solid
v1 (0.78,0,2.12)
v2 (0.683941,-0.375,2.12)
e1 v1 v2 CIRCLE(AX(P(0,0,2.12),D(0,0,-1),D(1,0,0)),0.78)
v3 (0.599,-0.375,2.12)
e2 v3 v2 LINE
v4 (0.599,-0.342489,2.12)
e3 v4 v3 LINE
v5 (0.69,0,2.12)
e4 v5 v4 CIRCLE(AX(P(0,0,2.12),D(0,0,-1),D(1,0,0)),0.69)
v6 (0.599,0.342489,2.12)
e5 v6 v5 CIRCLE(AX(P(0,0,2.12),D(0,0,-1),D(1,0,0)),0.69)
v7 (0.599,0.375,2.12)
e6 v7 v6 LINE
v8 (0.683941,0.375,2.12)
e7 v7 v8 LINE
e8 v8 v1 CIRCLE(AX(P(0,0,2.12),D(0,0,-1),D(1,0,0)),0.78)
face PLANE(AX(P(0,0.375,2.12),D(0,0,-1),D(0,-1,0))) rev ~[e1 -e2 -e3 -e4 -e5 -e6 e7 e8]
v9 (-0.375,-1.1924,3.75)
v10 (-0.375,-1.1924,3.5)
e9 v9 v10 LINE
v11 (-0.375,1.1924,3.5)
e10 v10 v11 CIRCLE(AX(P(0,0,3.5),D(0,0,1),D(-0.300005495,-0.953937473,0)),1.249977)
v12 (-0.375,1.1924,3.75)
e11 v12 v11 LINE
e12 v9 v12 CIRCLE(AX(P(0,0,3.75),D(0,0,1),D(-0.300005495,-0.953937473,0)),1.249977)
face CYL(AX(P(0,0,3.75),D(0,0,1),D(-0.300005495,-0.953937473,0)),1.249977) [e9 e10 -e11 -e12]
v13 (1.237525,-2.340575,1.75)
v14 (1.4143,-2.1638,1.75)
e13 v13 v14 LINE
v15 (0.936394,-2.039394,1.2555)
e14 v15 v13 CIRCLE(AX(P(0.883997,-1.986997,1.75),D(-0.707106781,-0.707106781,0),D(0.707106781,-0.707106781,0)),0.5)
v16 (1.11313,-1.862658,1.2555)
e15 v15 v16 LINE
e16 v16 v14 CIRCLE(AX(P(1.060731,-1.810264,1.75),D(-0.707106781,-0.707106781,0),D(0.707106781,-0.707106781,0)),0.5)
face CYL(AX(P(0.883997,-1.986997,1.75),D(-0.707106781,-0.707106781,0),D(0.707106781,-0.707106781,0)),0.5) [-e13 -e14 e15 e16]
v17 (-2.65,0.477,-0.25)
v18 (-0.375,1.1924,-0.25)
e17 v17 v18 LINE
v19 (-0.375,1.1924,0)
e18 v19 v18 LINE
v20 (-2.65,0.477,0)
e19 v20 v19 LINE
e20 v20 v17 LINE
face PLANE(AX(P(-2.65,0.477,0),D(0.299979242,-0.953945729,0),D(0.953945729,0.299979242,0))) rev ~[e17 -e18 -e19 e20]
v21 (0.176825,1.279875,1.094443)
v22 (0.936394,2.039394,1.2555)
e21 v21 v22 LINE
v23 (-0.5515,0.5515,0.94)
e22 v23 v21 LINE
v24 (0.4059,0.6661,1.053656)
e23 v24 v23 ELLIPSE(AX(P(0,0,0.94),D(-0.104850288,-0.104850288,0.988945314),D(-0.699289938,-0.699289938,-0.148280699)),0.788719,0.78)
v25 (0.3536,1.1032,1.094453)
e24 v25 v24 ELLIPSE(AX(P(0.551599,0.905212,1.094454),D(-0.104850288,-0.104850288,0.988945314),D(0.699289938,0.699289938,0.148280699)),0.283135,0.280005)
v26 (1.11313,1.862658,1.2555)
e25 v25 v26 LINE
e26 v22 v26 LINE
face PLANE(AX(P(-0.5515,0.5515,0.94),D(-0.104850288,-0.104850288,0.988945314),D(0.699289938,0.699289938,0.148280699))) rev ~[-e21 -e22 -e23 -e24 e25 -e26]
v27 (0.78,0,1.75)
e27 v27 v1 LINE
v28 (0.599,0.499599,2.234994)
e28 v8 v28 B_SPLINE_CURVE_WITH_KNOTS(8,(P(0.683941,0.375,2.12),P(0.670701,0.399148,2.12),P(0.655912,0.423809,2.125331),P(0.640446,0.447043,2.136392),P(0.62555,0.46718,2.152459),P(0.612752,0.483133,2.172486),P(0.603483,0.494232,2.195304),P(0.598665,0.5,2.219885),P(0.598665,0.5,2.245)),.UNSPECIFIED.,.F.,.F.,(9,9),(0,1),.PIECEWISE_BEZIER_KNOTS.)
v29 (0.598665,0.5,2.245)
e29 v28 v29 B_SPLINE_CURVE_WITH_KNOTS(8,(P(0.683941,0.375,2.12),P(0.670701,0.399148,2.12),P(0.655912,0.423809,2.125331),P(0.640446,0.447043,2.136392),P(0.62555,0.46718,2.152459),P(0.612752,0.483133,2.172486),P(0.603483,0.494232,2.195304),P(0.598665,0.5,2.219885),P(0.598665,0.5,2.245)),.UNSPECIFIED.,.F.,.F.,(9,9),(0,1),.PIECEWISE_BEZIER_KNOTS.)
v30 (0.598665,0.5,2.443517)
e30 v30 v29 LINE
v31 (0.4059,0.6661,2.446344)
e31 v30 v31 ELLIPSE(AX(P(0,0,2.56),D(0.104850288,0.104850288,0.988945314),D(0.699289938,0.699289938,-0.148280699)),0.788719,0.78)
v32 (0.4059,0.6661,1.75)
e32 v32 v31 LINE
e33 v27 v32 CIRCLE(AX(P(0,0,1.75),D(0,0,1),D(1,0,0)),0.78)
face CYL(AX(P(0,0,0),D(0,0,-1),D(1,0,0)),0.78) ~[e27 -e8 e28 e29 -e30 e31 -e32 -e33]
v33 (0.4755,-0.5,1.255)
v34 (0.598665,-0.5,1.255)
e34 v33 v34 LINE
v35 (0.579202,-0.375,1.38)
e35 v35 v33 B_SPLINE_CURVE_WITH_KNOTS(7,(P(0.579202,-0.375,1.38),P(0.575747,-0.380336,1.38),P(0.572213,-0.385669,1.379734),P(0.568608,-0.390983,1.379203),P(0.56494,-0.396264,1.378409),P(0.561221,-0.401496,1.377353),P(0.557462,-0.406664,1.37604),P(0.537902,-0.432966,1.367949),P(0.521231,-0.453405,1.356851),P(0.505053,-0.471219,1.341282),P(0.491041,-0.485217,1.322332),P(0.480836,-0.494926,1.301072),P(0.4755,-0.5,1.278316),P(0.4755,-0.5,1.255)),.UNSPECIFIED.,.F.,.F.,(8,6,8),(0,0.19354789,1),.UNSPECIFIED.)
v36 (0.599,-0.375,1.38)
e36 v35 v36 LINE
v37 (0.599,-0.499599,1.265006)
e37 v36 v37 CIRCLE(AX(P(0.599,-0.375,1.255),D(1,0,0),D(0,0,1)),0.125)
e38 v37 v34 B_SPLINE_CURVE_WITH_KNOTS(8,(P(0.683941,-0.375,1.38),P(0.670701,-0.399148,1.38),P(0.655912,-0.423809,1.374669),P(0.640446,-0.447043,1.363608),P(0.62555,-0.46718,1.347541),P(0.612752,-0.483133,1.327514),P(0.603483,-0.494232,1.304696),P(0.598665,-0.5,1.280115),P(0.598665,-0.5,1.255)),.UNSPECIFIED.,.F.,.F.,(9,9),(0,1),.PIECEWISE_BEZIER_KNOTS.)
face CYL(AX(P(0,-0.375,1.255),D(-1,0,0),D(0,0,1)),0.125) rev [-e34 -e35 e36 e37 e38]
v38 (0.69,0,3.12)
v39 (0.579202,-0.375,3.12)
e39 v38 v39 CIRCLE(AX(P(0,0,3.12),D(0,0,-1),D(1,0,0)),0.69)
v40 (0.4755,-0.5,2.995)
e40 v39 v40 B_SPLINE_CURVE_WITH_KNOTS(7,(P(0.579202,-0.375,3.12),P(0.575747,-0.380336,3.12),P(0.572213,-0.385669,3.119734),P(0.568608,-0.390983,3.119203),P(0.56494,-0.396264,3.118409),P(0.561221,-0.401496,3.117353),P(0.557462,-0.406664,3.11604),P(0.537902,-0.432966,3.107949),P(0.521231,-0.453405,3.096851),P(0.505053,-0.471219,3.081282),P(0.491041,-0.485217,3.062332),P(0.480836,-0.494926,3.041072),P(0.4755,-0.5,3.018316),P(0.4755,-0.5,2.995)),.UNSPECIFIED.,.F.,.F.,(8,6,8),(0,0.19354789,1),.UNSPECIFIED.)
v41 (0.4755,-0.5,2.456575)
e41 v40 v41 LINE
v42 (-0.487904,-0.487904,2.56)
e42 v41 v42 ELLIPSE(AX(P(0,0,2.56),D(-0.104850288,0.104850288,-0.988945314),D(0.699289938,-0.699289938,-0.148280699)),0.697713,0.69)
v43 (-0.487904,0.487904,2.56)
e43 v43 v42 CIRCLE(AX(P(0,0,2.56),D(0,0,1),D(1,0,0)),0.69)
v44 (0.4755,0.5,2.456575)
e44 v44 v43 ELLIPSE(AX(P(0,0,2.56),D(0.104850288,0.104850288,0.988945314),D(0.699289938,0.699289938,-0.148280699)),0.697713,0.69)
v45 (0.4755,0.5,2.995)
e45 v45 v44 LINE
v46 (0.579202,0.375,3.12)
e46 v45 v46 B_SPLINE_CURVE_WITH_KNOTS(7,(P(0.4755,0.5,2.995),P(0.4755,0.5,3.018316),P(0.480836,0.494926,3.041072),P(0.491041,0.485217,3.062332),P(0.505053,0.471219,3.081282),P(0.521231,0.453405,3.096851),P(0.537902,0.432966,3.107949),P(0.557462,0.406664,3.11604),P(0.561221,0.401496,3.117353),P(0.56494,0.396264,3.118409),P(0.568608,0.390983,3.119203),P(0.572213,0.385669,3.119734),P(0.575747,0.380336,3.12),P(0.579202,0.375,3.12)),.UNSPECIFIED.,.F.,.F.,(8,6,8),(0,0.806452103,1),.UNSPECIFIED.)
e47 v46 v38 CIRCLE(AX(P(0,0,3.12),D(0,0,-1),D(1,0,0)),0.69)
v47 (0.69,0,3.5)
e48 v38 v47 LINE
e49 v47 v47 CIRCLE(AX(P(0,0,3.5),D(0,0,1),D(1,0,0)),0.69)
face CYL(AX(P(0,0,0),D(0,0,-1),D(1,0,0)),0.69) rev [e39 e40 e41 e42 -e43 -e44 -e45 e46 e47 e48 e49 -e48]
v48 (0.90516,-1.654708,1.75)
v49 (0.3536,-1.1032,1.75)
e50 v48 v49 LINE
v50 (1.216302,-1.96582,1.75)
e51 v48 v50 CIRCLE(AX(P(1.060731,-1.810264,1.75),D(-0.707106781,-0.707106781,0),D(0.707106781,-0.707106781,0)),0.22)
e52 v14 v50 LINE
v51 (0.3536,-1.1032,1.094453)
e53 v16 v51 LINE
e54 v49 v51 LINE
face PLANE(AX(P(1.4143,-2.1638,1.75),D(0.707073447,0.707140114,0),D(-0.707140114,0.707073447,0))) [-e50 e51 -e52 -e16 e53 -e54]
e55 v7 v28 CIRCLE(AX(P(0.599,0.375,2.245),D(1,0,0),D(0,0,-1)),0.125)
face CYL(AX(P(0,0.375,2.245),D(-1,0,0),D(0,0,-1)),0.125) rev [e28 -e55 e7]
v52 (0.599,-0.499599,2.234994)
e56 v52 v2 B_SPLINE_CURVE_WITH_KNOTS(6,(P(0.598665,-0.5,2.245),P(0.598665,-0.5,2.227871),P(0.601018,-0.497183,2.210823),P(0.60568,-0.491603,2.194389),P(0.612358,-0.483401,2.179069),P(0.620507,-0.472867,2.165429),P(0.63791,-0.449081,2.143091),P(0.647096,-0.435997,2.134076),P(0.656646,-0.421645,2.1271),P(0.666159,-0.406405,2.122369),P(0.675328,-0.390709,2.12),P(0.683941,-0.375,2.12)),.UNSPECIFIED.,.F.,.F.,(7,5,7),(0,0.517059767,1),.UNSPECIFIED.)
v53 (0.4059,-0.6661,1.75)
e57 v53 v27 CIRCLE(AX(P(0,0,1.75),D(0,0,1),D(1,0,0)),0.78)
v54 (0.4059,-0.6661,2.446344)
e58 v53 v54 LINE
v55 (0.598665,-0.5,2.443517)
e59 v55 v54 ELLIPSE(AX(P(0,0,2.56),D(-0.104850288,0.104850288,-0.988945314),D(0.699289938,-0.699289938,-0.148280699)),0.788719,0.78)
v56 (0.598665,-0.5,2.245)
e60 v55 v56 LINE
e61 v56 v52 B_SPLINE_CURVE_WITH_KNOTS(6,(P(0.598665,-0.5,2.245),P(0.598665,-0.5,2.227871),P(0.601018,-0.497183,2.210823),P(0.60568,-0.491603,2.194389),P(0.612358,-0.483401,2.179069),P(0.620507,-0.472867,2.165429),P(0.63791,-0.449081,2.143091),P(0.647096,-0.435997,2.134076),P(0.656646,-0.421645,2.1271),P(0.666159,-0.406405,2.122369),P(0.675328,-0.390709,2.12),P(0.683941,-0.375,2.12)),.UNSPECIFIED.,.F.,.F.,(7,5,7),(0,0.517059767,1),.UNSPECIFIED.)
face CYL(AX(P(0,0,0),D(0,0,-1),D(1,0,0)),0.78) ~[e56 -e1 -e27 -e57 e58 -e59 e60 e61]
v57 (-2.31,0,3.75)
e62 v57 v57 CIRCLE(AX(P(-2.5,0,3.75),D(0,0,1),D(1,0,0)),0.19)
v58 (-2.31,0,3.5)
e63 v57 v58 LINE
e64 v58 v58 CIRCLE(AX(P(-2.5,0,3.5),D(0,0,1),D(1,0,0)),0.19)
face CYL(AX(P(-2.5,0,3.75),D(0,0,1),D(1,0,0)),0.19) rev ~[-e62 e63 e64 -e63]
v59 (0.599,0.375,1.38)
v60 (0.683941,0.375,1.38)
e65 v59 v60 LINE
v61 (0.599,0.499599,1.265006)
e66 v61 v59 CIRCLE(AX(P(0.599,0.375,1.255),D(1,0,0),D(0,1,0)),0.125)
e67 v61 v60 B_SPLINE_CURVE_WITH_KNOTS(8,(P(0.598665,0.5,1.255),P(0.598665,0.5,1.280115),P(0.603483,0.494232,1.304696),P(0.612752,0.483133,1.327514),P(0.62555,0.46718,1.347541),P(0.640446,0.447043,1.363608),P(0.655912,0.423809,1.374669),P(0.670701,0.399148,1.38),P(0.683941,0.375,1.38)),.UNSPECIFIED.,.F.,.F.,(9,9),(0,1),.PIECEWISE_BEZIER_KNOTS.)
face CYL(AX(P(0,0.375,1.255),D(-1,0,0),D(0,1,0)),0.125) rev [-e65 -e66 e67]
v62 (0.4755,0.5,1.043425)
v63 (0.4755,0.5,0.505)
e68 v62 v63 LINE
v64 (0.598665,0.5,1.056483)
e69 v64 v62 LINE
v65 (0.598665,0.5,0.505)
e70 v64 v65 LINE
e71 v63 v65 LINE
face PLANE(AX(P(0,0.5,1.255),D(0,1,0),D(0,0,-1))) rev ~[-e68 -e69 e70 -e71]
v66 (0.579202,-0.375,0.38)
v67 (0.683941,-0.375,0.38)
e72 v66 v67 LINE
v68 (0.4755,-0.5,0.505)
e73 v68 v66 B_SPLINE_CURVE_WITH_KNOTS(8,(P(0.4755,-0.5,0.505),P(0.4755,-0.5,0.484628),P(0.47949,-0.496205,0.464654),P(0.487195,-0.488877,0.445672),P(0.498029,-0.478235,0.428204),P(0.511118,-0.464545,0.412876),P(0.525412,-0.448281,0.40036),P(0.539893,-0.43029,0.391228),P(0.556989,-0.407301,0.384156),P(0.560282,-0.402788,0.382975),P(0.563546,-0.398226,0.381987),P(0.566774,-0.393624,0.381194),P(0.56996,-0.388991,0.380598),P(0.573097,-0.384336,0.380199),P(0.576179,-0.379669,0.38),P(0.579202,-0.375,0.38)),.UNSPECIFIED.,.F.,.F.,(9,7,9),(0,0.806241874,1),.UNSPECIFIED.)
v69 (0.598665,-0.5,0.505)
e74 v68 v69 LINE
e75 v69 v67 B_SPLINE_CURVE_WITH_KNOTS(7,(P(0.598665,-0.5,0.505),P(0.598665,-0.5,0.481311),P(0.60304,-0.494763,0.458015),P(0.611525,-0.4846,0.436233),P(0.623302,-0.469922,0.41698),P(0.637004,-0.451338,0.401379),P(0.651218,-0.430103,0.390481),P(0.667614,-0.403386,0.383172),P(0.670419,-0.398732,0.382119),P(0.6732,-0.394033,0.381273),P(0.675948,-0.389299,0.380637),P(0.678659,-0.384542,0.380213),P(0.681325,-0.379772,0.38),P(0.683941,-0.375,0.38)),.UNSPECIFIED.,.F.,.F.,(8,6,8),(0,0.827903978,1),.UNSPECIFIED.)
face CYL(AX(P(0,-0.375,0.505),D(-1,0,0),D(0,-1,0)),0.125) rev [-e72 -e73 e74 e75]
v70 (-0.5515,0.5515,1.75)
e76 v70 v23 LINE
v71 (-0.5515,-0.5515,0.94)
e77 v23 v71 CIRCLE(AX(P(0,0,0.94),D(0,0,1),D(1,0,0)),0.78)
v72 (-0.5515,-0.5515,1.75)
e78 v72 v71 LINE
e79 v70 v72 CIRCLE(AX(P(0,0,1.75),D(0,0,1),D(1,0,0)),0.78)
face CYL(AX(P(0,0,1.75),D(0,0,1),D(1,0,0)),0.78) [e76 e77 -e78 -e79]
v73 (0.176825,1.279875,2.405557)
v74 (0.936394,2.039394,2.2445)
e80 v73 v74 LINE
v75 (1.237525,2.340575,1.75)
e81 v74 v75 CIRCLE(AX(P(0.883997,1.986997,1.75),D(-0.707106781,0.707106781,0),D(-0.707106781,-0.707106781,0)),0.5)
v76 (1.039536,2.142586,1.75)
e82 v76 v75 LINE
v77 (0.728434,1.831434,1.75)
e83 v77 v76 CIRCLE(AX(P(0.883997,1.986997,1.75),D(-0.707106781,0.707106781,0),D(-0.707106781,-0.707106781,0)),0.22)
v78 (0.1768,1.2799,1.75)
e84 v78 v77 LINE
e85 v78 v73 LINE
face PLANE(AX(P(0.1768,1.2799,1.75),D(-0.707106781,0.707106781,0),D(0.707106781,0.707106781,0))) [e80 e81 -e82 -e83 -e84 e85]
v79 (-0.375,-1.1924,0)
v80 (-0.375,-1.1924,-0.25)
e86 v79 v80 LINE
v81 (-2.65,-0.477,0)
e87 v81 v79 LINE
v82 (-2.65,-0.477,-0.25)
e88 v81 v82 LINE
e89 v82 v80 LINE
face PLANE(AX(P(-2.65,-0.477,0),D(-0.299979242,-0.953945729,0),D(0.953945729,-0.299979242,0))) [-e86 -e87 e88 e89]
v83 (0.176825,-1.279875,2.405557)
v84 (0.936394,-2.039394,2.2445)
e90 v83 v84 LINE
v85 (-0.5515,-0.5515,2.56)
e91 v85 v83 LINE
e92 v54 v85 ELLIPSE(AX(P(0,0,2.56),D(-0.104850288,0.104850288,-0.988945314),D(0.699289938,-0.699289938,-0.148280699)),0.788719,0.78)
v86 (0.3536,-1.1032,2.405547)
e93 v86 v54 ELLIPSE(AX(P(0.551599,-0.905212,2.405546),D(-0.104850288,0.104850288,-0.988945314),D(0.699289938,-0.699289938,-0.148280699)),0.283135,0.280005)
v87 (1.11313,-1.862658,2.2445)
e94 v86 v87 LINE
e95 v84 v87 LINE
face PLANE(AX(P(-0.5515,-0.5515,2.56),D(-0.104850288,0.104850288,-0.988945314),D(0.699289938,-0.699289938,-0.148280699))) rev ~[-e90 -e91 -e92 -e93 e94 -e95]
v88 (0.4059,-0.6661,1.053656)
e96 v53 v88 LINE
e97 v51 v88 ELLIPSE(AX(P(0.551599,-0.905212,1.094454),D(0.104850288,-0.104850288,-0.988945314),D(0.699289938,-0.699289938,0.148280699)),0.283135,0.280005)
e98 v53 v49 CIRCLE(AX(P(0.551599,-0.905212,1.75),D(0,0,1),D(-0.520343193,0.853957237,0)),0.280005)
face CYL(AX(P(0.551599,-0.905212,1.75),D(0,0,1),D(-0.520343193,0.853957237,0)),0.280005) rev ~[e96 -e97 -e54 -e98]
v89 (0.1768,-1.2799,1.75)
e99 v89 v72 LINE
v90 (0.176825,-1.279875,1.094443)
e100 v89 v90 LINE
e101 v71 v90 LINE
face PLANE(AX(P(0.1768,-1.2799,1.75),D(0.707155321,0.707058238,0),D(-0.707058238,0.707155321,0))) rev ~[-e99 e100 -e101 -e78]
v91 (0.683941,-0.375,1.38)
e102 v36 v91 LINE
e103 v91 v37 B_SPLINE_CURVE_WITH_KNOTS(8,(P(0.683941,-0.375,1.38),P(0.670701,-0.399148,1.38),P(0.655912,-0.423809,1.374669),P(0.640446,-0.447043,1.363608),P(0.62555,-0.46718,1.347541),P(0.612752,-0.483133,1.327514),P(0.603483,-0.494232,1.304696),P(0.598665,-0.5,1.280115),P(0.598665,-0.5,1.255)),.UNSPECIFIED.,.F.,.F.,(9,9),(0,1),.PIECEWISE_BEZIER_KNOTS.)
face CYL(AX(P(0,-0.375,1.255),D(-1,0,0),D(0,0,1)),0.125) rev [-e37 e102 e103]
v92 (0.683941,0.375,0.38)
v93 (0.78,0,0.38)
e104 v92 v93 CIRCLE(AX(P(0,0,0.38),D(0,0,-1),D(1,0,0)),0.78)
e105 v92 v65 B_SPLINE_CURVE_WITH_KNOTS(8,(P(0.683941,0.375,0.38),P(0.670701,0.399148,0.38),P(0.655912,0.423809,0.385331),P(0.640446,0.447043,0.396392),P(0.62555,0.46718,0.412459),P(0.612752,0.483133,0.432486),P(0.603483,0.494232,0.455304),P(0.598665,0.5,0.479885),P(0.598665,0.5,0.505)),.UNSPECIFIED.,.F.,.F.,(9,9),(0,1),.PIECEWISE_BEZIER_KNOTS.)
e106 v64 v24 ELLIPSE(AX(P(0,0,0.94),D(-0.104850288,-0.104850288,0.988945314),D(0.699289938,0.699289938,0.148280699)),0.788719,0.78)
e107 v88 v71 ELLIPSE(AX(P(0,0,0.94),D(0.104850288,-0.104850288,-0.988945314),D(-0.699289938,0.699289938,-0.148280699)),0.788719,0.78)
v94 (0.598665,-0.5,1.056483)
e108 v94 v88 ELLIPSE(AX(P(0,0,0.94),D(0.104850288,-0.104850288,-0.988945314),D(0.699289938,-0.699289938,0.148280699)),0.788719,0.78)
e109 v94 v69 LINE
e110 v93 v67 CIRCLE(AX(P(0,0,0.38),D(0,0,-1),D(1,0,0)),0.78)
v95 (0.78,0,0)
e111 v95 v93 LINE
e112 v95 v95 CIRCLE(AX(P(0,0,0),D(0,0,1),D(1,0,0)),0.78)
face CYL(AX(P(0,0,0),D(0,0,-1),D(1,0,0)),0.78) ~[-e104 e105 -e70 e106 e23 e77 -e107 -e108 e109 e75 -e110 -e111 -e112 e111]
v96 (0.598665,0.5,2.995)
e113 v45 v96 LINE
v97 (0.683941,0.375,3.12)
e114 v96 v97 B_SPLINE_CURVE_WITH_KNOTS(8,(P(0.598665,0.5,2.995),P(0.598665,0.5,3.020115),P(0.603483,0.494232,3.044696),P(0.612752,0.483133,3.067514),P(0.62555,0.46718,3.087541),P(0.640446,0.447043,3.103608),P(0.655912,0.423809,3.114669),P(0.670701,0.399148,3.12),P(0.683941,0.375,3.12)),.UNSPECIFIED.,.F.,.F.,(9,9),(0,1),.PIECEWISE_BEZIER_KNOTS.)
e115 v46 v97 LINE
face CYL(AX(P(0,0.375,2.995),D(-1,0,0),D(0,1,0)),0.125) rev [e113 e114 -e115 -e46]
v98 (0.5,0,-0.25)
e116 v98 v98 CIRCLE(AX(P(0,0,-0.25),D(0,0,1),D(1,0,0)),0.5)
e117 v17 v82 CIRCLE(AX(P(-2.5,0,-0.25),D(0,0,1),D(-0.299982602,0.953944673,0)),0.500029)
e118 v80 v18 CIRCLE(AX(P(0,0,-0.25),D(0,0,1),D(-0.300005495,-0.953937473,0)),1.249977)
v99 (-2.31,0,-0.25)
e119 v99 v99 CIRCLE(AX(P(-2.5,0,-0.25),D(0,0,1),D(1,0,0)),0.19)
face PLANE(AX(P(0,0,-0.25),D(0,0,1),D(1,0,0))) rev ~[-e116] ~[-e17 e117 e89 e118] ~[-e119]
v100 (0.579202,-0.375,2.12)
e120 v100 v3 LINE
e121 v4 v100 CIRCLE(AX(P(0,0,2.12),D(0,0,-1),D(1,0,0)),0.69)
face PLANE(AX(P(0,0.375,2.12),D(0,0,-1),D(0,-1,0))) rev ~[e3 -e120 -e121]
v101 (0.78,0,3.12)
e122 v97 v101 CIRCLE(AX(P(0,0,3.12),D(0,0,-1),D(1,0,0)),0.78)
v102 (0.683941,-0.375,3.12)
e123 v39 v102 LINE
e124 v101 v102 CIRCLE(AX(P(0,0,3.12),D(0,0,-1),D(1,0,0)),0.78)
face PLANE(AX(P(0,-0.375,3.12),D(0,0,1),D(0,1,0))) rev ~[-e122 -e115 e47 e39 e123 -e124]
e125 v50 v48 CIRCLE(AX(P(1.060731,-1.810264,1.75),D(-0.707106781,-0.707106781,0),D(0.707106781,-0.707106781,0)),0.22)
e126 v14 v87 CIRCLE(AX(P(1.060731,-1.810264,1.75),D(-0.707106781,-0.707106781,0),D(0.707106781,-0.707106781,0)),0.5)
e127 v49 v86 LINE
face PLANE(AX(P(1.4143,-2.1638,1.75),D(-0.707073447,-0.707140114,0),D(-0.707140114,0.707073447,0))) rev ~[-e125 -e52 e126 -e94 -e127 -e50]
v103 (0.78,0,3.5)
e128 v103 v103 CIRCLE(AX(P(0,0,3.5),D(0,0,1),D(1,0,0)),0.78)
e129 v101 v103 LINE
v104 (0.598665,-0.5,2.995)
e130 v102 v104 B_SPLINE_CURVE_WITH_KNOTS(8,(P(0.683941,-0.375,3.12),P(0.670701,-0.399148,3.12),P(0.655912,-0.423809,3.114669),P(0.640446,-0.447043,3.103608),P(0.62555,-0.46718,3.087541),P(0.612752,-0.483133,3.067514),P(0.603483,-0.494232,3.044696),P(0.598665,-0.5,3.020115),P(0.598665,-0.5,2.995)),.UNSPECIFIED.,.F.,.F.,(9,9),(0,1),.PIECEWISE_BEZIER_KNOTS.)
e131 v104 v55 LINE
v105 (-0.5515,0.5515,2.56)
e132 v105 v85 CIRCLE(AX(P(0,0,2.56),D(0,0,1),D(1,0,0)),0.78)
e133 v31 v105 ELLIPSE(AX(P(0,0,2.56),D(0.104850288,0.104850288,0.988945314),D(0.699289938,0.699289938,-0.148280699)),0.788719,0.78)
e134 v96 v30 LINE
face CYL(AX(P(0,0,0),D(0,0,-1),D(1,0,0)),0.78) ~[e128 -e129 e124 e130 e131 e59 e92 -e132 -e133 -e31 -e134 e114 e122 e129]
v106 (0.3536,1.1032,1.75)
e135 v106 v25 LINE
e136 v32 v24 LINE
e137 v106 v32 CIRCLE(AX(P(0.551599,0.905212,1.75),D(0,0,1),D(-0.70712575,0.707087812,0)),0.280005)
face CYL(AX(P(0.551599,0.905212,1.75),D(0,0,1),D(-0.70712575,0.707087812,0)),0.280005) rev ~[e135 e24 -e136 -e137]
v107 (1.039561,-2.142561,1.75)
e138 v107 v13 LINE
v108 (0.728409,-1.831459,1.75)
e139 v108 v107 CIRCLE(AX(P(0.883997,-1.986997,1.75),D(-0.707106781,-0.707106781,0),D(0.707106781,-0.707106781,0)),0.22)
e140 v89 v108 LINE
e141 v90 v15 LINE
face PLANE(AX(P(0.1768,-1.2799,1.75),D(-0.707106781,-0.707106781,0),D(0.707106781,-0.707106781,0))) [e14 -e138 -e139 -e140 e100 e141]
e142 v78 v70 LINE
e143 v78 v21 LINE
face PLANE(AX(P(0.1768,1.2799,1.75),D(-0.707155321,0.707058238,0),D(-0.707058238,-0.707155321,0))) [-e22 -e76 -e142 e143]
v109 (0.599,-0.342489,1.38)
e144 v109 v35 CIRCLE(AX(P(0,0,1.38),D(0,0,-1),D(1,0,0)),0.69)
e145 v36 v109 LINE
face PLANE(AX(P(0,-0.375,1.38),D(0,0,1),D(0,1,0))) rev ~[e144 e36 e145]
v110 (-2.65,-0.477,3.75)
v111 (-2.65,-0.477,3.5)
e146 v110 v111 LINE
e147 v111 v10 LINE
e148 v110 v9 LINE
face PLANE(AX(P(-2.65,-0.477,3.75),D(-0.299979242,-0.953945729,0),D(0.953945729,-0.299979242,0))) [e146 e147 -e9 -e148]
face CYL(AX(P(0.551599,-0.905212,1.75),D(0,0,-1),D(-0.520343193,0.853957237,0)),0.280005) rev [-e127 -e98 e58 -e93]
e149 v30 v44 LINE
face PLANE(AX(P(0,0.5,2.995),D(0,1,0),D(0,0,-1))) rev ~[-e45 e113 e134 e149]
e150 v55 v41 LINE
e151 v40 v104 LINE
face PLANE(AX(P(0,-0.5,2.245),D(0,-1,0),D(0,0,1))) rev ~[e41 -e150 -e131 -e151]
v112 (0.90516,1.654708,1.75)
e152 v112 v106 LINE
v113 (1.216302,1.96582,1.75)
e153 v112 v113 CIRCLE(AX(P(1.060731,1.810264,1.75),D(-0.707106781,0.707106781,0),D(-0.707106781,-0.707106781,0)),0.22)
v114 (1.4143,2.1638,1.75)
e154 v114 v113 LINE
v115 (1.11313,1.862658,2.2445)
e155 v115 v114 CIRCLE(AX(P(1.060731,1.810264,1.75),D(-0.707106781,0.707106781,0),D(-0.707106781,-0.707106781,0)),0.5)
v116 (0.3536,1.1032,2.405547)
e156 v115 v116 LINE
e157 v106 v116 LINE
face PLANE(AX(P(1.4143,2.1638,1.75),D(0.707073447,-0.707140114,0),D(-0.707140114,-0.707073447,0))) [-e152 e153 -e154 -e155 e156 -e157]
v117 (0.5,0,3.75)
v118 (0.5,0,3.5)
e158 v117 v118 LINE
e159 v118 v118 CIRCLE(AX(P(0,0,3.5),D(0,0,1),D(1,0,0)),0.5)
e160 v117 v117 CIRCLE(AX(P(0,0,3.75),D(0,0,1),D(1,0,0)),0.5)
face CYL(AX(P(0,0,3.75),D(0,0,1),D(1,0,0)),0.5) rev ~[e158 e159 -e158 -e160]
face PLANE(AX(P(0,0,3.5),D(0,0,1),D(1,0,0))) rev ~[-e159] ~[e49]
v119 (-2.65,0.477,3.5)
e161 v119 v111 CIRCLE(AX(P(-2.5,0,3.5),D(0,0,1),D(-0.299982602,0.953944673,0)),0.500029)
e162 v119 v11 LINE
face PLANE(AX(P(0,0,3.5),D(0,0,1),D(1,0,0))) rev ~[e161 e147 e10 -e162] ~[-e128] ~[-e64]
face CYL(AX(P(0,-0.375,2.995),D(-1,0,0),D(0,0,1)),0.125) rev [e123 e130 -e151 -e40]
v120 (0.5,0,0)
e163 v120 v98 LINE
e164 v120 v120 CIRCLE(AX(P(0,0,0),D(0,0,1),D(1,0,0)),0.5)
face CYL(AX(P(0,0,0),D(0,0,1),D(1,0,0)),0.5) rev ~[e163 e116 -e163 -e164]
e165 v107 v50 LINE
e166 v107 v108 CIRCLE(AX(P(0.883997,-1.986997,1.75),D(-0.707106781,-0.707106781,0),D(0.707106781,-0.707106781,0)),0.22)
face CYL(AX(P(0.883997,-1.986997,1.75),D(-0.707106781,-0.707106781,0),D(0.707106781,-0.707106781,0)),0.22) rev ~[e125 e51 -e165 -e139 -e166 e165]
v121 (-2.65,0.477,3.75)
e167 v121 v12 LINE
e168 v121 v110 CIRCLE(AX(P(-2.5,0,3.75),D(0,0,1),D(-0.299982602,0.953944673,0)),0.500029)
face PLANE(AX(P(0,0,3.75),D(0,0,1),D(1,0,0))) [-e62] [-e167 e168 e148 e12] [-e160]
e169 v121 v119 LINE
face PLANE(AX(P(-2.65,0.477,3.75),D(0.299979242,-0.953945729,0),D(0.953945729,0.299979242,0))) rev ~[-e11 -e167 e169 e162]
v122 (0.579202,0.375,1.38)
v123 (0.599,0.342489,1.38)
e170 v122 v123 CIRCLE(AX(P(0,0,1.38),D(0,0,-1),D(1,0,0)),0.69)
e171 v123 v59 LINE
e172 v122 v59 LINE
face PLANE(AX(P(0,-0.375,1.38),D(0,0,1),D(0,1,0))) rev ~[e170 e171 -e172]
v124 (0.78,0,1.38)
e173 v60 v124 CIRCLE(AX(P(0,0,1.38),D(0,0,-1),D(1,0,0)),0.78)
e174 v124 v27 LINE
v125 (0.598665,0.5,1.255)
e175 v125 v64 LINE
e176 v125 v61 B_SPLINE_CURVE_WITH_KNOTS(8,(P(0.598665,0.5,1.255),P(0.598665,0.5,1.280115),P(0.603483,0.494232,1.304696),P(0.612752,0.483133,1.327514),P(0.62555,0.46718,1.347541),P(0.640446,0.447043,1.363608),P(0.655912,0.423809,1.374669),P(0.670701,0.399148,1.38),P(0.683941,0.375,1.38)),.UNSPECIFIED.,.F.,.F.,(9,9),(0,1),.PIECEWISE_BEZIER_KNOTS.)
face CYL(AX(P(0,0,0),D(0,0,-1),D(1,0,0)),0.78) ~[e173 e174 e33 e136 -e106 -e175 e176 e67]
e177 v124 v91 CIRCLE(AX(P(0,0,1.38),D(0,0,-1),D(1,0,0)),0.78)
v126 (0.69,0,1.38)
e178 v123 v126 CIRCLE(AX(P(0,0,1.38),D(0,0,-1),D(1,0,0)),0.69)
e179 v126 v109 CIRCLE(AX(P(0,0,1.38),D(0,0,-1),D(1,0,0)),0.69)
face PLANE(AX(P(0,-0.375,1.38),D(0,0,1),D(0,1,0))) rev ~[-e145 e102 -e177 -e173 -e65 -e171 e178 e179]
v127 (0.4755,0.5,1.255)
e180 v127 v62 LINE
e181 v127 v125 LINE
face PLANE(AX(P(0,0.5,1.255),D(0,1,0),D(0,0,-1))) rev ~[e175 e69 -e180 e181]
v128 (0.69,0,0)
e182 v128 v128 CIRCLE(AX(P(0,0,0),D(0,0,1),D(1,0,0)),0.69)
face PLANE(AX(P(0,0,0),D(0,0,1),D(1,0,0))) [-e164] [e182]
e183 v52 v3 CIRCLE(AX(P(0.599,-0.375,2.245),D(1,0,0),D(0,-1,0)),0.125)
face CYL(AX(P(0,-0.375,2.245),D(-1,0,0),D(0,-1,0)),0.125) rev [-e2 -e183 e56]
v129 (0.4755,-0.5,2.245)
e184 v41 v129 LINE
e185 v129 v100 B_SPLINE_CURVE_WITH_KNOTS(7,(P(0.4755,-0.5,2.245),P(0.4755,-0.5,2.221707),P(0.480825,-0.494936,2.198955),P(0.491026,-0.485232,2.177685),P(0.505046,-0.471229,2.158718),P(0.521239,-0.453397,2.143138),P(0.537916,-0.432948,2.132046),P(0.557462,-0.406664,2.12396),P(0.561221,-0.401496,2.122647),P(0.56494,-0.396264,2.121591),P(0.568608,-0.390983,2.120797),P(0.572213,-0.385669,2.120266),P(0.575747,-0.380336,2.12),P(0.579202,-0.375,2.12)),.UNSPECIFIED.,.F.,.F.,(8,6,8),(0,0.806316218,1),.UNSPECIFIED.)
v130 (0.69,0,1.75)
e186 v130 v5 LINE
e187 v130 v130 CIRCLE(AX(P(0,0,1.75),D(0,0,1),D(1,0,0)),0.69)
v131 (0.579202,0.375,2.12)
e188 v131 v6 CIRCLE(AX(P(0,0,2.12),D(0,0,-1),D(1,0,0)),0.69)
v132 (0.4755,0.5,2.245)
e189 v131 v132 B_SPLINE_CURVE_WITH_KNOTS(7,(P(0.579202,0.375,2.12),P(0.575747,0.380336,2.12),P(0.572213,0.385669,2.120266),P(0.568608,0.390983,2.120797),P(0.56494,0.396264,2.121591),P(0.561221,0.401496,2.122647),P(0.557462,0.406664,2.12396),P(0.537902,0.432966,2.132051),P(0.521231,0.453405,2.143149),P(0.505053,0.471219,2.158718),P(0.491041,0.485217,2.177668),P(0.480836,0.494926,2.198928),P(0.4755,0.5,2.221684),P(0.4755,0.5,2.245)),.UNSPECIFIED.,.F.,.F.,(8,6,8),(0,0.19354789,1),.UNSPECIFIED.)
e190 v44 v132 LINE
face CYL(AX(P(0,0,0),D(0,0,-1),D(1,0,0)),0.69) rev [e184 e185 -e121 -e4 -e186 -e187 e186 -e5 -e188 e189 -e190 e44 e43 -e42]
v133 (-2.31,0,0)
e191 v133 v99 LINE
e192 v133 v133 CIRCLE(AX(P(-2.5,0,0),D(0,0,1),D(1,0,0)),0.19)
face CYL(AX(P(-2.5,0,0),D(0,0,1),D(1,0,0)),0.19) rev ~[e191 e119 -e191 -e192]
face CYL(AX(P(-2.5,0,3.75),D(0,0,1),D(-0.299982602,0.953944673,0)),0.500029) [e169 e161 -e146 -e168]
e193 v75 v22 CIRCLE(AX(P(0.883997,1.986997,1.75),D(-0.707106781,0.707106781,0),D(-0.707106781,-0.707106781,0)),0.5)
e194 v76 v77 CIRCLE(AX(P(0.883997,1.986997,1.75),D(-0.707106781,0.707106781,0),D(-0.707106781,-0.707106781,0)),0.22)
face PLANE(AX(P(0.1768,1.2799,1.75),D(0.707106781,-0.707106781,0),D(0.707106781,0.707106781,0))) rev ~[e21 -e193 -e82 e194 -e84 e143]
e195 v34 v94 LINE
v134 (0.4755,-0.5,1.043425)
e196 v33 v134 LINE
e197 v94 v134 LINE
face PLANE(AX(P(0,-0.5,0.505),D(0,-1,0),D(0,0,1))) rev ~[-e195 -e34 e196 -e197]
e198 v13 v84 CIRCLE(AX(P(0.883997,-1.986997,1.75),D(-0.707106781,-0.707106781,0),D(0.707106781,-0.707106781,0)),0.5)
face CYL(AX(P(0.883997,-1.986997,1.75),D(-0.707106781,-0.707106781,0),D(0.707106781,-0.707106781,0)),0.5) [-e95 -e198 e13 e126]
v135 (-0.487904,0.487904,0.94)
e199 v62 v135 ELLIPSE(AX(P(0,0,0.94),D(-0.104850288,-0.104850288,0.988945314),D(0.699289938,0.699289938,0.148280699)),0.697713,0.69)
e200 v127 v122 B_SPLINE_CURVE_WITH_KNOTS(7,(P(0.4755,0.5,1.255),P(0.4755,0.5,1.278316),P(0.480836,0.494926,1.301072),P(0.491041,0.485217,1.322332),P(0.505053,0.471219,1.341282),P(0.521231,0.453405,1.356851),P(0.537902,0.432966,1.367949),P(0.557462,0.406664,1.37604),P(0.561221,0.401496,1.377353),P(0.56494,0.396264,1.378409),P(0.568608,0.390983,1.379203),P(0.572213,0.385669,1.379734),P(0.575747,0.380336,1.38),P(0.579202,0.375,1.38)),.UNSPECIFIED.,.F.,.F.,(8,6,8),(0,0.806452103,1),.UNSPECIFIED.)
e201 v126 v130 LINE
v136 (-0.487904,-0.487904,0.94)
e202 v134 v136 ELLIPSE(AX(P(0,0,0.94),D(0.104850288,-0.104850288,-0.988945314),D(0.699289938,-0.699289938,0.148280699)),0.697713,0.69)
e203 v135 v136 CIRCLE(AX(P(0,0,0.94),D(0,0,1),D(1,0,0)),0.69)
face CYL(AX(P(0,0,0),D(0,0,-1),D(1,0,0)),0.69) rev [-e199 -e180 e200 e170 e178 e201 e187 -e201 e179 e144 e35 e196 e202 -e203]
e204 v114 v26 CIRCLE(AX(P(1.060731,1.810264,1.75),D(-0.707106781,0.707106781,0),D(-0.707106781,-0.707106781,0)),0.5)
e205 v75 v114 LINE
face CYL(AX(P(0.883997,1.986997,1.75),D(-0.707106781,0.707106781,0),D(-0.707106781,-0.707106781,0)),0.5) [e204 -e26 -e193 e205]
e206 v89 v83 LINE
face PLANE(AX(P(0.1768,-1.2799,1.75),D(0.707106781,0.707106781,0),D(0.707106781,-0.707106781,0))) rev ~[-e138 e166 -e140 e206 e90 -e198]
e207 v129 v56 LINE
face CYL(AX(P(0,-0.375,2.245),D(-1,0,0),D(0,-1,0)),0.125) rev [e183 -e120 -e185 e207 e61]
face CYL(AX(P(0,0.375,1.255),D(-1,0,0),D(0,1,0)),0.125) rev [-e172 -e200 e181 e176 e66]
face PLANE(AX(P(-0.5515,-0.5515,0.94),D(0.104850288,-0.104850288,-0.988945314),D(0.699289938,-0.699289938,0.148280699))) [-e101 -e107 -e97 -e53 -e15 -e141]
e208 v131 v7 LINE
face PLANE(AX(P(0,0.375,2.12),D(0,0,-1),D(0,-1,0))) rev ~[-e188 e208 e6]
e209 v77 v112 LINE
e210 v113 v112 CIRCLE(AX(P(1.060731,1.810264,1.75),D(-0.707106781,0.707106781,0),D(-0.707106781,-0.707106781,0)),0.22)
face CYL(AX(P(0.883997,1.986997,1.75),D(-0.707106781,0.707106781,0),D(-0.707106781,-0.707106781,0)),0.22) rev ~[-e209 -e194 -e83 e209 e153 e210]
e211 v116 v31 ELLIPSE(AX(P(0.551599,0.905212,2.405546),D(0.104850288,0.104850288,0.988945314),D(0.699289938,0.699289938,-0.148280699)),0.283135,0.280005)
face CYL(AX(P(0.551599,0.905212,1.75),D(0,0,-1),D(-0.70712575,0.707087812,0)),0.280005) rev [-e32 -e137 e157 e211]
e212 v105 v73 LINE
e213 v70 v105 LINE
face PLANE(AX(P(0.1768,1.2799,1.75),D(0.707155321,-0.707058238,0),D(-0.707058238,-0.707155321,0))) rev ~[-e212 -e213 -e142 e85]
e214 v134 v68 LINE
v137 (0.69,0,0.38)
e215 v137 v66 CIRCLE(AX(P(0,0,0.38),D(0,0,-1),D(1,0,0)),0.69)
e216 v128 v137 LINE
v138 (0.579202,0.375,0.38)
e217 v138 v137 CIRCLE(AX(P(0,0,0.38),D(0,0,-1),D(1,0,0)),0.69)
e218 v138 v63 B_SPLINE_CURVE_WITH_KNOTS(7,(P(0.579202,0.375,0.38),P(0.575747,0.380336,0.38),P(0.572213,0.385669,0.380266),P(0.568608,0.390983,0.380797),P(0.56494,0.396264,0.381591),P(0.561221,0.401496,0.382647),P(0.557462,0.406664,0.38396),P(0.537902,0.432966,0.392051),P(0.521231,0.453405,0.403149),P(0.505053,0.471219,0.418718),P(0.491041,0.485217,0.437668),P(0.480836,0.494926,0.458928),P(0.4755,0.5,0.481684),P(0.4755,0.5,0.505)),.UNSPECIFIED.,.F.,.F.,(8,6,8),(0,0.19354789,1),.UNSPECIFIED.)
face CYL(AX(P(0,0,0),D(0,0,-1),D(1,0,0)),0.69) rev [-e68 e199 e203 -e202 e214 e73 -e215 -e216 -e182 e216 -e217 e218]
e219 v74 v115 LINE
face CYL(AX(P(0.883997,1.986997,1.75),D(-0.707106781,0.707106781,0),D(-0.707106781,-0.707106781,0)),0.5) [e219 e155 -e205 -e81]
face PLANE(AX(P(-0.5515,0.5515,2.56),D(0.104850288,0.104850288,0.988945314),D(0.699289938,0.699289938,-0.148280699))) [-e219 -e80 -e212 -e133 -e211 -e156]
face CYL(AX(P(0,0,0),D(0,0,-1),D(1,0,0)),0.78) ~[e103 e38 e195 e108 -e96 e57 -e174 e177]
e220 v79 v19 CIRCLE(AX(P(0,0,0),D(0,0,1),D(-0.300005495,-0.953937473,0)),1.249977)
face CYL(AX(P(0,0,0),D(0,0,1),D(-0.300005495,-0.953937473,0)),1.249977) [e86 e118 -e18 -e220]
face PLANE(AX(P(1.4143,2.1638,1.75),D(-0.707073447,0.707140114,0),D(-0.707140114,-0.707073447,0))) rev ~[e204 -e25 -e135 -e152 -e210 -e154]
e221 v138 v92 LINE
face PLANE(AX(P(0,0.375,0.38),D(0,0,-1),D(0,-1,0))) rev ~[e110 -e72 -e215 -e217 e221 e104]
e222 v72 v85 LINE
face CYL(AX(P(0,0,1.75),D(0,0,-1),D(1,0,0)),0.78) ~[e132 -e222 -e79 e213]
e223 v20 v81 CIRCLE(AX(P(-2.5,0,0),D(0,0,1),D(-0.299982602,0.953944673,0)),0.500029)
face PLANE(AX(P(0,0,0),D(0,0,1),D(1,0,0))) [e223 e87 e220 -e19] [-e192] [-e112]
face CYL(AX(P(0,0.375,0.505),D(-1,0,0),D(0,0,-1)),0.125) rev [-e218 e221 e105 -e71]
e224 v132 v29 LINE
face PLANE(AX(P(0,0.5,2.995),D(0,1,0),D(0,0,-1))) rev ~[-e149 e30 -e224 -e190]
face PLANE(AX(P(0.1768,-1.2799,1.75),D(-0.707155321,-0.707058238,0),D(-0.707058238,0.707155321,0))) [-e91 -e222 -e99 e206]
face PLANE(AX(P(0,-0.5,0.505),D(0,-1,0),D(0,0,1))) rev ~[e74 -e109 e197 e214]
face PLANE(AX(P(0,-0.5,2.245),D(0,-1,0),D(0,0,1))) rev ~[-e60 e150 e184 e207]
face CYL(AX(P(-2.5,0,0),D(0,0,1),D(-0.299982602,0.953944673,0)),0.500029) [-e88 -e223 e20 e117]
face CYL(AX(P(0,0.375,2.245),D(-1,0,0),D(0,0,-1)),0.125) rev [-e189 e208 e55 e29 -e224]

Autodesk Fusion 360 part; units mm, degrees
sketch "草图1" plane through (0, 0, 0) normal (0, 0, 1) x (1, 0, 0)
  circle A0 centre (0, 0) radius 0.69
  circle A1 centre (0, 0) radius 0.78
  circle A2 centre (0, 0) radius 0.5
  circle A3 centre (-2.5, 0) radius 0.19
  line L0 (-2.65, 0.477) -> (-0.375, 1.1924)
  line L1 (-2.65, -0.477) -> (-0.375, -1.1924)
  arc A4 (-2.65, 0.477) -> (-2.65, -0.477) centre (-2.5, 0) ccw
  line L2 (-2.5, 0) -> (-2.31, 0)
  arc A5 (-0.375, -1.1924) -> (-0.375, 1.1924) centre (0, 0) ccw
  dimension "d1" = 1.38
  dimension "d2" = 1.56
  dimension "d3" = 1
  dimension "d4" = 2.5
  dimension "d5" = 0.38
  dimension "d6" = 1
  dimension "d7" = 2.5
extrude "拉伸1" add sketch "草图1" against normal blind 0.25 contours A0 | A1 | L0 L1 A4 A5 makes body 1
extrude "拉伸2" add sketch "草图1" along normal blind 3.5 separate body contours A1 makes body 2
copy_body "复制和粘贴实体1" bodies 1 makes body 3
move_body "移动1" bodies 3 to x (1, 0, 0) y (0, 1, 0) z (0, 0, 1) at (0, 0, 3.75)
sketch "草图2" plane through (0, 0, 0) normal (1, 0, 0) x (0, 1, 0)
  line L0 (-0.375, 3.12) -> (0.375, 3.12)
  line L1 (0.5, 2.995) -> (0.5, 2.245)
  line L2 (0.375, 2.12) -> (-0.375, 2.12)
  line L3 (-0.5, 2.245) -> (-0.5, 2.995)
  line L4 (-0.375, 1.38) -> (0.375, 1.38)
  line L5 (0.5, 1.255) -> (0.5, 0.505)
  line L6 (0.375, 0.38) -> (-0.375, 0.38)
  line L7 (-0.5, 0.505) -> (-0.5, 1.255)
  arc A0 (-0.375, 3.12) -> (-0.5, 2.995) centre (-0.375, 2.995) ccw
  arc A1 (0.5, 2.995) -> (0.375, 3.12) centre (0.375, 2.995) ccw
  arc A2 (0.375, 0.38) -> (0.5, 0.505) centre (0.375, 0.505) ccw
  arc A3 (-0.5, 0.505) -> (-0.375, 0.38) centre (-0.375, 0.505) ccw
  arc A4 (-0.375, 1.38) -> (-0.5, 1.255) centre (-0.375, 1.255) ccw
  arc A5 (0.5, 1.255) -> (0.375, 1.38) centre (0.375, 1.255) ccw
  arc A6 (0.375, 2.12) -> (0.5, 2.245) centre (0.375, 2.245) ccw
  arc A7 (-0.5, 2.245) -> (-0.375, 2.12) centre (-0.375, 2.245) ccw
  line L8 (0, 4) -> (0, -0.5512) construction
  dimension "d12" = 0.125
  dimension "d13" = 1
  dimension "d14" = 2.74
  dimension "d15" = 0.38
extrude "拉伸3" cut sketch "草图2" along normal blind 0.78 contours L0 L1 L2 L3 A0 A1 A6 A7 bodies 2
extrude "拉伸4" cut sketch "草图2" along normal blind 0.78 contours L4 L5 L6 L7 A2 A3 A4 A5 bodies 2
ref_plane "工作平面1" through (0, 0, 1.75) normal (0, 0, 1) x (1, 0, 0)
sketch "草图3" plane through (0, 0, 1.75) normal (0, 0, 1) x (1, 0, 0)
  circle A0 centre (0, 0) radius 0.78
  circle A1 centre (0, 0) radius 0.69
  line L0 (2.6, 0) -> (-1.7605, 0) construction
  line L1 (1.2375, 2.3406) -> (1.4143, 2.1638)
  line L2 (1.4143, 2.1638) -> (0.3536, 1.1032)
  line L3 (0.3536, 1.1032) -> (0.1768, 1.2799)
  line L4 (0.1768, 1.2799) -> (1.2375, 2.3406)
  line L5 (0.3536, -1.1032) -> (0.1768, -1.2799)
  line L6 (0.1768, -1.2799) -> (1.2375, -2.3406)
  line L7 (1.2375, -2.3406) -> (1.4143, -2.1638)
  line L8 (1.4143, -2.1638) -> (0.3536, -1.1032)
  arc A2 (0.3536, 1.1032) -> (0.4059, 0.6661) centre (0.5516, 0.9052) ccw
  arc A3 (0.4059, -0.6661) -> (0.3536, -1.1032) centre (0.5516, -0.9052) ccw
  line L9 (0.1768, 1.2799) -> (-0.5515, 0.5515)
  line L10 (0.1768, -1.2799) -> (-0.5515, -0.5515)
  dimension "d21" = 1.56
  dimension "d22" = 1.38
  dimension "d23" = 0.25
  dimension "d24" = 45
  dimension "d25" = 1.5
  dimension "d26" = 0.28
extrude "拉伸5" add sketch "草图3" along normal mid plane 1.62 separate body makes body 4
sketch "草图4" plane through (-0.5515, -0.5515, 0) normal (-0.7071, -0.7071, 0) x (0.7071, -0.7071, 0)
  line L0 (2.5301, 0.94) -> (2.5301, 2.56)
  line L1 (2.5301, 2.56) -> (0, 2.56)
  line L2 (0, 2.56) -> (0, 0.94)
  line L3 (0, 0.94) -> (2.5301, 0.94)
  circle A0 centre (2.0301, 1.75) radius 0.22
  circle A1 centre (2.0301, 1.75) radius 0.5
  line L4 (0, 2.56) -> (2.1042, 2.2445)
  line L5 (0, 0.94) -> (2.1042, 1.2555)
  line L6 (0, 2.56) -> (0, 0.94)
  dimension "d29" = 1
  dimension "d30" = 0.44
  dimension "d31" = 0.81
extrude "拉伸6" cut sketch "草图4" against normal blind 1.2 contours L0 L3 A1 L5 | L0 L1 A1 L4 | A0 bodies 4
sketch "草图5" plane through (-0.5515, 0.5515, 0) normal (-0.7071, 0.7071, 0) x (-0.7071, -0.7071, 0)
  line L0 (0, 0.94) -> (0, 2.56)
  line L1 (0, 2.56) -> (-2.5301, 2.56)
  line L2 (-2.5301, 2.56) -> (-2.5301, 0.94)
  line L3 (-2.5301, 0.94) -> (0, 0.94)
  circle A0 centre (-2.0301, 1.75) radius 0.5
  circle A1 centre (-2.0301, 1.75) radius 0.22
  line L4 (0, 2.56) -> (0, 0.94)
  line L5 (0, 0.94) -> (-2.1042, 1.2555)
  line L6 (0, 2.56) -> (-2.1042, 2.2445)
  dimension "d34" = 1
  dimension "d35" = 0.44
  dimension "d36" = 0.81
extrude "拉伸7" cut sketch "草图5" against normal blind 2.6 contours L2 L3 A0 L5 | L1 L2 A0 L6 | A1 bodies 4
extrude "拉伸8" cut sketch "草图2" along normal blind 0.599 bodies 4
extrude "拉伸9" cut sketch "草图2" along normal blind 5.4 bodies 4
combine "合并1" operation add target body 1 tool bodies 2 3 4
equation "d14 = 3.5 mm - 0.38 mm - 0.38 mm"
